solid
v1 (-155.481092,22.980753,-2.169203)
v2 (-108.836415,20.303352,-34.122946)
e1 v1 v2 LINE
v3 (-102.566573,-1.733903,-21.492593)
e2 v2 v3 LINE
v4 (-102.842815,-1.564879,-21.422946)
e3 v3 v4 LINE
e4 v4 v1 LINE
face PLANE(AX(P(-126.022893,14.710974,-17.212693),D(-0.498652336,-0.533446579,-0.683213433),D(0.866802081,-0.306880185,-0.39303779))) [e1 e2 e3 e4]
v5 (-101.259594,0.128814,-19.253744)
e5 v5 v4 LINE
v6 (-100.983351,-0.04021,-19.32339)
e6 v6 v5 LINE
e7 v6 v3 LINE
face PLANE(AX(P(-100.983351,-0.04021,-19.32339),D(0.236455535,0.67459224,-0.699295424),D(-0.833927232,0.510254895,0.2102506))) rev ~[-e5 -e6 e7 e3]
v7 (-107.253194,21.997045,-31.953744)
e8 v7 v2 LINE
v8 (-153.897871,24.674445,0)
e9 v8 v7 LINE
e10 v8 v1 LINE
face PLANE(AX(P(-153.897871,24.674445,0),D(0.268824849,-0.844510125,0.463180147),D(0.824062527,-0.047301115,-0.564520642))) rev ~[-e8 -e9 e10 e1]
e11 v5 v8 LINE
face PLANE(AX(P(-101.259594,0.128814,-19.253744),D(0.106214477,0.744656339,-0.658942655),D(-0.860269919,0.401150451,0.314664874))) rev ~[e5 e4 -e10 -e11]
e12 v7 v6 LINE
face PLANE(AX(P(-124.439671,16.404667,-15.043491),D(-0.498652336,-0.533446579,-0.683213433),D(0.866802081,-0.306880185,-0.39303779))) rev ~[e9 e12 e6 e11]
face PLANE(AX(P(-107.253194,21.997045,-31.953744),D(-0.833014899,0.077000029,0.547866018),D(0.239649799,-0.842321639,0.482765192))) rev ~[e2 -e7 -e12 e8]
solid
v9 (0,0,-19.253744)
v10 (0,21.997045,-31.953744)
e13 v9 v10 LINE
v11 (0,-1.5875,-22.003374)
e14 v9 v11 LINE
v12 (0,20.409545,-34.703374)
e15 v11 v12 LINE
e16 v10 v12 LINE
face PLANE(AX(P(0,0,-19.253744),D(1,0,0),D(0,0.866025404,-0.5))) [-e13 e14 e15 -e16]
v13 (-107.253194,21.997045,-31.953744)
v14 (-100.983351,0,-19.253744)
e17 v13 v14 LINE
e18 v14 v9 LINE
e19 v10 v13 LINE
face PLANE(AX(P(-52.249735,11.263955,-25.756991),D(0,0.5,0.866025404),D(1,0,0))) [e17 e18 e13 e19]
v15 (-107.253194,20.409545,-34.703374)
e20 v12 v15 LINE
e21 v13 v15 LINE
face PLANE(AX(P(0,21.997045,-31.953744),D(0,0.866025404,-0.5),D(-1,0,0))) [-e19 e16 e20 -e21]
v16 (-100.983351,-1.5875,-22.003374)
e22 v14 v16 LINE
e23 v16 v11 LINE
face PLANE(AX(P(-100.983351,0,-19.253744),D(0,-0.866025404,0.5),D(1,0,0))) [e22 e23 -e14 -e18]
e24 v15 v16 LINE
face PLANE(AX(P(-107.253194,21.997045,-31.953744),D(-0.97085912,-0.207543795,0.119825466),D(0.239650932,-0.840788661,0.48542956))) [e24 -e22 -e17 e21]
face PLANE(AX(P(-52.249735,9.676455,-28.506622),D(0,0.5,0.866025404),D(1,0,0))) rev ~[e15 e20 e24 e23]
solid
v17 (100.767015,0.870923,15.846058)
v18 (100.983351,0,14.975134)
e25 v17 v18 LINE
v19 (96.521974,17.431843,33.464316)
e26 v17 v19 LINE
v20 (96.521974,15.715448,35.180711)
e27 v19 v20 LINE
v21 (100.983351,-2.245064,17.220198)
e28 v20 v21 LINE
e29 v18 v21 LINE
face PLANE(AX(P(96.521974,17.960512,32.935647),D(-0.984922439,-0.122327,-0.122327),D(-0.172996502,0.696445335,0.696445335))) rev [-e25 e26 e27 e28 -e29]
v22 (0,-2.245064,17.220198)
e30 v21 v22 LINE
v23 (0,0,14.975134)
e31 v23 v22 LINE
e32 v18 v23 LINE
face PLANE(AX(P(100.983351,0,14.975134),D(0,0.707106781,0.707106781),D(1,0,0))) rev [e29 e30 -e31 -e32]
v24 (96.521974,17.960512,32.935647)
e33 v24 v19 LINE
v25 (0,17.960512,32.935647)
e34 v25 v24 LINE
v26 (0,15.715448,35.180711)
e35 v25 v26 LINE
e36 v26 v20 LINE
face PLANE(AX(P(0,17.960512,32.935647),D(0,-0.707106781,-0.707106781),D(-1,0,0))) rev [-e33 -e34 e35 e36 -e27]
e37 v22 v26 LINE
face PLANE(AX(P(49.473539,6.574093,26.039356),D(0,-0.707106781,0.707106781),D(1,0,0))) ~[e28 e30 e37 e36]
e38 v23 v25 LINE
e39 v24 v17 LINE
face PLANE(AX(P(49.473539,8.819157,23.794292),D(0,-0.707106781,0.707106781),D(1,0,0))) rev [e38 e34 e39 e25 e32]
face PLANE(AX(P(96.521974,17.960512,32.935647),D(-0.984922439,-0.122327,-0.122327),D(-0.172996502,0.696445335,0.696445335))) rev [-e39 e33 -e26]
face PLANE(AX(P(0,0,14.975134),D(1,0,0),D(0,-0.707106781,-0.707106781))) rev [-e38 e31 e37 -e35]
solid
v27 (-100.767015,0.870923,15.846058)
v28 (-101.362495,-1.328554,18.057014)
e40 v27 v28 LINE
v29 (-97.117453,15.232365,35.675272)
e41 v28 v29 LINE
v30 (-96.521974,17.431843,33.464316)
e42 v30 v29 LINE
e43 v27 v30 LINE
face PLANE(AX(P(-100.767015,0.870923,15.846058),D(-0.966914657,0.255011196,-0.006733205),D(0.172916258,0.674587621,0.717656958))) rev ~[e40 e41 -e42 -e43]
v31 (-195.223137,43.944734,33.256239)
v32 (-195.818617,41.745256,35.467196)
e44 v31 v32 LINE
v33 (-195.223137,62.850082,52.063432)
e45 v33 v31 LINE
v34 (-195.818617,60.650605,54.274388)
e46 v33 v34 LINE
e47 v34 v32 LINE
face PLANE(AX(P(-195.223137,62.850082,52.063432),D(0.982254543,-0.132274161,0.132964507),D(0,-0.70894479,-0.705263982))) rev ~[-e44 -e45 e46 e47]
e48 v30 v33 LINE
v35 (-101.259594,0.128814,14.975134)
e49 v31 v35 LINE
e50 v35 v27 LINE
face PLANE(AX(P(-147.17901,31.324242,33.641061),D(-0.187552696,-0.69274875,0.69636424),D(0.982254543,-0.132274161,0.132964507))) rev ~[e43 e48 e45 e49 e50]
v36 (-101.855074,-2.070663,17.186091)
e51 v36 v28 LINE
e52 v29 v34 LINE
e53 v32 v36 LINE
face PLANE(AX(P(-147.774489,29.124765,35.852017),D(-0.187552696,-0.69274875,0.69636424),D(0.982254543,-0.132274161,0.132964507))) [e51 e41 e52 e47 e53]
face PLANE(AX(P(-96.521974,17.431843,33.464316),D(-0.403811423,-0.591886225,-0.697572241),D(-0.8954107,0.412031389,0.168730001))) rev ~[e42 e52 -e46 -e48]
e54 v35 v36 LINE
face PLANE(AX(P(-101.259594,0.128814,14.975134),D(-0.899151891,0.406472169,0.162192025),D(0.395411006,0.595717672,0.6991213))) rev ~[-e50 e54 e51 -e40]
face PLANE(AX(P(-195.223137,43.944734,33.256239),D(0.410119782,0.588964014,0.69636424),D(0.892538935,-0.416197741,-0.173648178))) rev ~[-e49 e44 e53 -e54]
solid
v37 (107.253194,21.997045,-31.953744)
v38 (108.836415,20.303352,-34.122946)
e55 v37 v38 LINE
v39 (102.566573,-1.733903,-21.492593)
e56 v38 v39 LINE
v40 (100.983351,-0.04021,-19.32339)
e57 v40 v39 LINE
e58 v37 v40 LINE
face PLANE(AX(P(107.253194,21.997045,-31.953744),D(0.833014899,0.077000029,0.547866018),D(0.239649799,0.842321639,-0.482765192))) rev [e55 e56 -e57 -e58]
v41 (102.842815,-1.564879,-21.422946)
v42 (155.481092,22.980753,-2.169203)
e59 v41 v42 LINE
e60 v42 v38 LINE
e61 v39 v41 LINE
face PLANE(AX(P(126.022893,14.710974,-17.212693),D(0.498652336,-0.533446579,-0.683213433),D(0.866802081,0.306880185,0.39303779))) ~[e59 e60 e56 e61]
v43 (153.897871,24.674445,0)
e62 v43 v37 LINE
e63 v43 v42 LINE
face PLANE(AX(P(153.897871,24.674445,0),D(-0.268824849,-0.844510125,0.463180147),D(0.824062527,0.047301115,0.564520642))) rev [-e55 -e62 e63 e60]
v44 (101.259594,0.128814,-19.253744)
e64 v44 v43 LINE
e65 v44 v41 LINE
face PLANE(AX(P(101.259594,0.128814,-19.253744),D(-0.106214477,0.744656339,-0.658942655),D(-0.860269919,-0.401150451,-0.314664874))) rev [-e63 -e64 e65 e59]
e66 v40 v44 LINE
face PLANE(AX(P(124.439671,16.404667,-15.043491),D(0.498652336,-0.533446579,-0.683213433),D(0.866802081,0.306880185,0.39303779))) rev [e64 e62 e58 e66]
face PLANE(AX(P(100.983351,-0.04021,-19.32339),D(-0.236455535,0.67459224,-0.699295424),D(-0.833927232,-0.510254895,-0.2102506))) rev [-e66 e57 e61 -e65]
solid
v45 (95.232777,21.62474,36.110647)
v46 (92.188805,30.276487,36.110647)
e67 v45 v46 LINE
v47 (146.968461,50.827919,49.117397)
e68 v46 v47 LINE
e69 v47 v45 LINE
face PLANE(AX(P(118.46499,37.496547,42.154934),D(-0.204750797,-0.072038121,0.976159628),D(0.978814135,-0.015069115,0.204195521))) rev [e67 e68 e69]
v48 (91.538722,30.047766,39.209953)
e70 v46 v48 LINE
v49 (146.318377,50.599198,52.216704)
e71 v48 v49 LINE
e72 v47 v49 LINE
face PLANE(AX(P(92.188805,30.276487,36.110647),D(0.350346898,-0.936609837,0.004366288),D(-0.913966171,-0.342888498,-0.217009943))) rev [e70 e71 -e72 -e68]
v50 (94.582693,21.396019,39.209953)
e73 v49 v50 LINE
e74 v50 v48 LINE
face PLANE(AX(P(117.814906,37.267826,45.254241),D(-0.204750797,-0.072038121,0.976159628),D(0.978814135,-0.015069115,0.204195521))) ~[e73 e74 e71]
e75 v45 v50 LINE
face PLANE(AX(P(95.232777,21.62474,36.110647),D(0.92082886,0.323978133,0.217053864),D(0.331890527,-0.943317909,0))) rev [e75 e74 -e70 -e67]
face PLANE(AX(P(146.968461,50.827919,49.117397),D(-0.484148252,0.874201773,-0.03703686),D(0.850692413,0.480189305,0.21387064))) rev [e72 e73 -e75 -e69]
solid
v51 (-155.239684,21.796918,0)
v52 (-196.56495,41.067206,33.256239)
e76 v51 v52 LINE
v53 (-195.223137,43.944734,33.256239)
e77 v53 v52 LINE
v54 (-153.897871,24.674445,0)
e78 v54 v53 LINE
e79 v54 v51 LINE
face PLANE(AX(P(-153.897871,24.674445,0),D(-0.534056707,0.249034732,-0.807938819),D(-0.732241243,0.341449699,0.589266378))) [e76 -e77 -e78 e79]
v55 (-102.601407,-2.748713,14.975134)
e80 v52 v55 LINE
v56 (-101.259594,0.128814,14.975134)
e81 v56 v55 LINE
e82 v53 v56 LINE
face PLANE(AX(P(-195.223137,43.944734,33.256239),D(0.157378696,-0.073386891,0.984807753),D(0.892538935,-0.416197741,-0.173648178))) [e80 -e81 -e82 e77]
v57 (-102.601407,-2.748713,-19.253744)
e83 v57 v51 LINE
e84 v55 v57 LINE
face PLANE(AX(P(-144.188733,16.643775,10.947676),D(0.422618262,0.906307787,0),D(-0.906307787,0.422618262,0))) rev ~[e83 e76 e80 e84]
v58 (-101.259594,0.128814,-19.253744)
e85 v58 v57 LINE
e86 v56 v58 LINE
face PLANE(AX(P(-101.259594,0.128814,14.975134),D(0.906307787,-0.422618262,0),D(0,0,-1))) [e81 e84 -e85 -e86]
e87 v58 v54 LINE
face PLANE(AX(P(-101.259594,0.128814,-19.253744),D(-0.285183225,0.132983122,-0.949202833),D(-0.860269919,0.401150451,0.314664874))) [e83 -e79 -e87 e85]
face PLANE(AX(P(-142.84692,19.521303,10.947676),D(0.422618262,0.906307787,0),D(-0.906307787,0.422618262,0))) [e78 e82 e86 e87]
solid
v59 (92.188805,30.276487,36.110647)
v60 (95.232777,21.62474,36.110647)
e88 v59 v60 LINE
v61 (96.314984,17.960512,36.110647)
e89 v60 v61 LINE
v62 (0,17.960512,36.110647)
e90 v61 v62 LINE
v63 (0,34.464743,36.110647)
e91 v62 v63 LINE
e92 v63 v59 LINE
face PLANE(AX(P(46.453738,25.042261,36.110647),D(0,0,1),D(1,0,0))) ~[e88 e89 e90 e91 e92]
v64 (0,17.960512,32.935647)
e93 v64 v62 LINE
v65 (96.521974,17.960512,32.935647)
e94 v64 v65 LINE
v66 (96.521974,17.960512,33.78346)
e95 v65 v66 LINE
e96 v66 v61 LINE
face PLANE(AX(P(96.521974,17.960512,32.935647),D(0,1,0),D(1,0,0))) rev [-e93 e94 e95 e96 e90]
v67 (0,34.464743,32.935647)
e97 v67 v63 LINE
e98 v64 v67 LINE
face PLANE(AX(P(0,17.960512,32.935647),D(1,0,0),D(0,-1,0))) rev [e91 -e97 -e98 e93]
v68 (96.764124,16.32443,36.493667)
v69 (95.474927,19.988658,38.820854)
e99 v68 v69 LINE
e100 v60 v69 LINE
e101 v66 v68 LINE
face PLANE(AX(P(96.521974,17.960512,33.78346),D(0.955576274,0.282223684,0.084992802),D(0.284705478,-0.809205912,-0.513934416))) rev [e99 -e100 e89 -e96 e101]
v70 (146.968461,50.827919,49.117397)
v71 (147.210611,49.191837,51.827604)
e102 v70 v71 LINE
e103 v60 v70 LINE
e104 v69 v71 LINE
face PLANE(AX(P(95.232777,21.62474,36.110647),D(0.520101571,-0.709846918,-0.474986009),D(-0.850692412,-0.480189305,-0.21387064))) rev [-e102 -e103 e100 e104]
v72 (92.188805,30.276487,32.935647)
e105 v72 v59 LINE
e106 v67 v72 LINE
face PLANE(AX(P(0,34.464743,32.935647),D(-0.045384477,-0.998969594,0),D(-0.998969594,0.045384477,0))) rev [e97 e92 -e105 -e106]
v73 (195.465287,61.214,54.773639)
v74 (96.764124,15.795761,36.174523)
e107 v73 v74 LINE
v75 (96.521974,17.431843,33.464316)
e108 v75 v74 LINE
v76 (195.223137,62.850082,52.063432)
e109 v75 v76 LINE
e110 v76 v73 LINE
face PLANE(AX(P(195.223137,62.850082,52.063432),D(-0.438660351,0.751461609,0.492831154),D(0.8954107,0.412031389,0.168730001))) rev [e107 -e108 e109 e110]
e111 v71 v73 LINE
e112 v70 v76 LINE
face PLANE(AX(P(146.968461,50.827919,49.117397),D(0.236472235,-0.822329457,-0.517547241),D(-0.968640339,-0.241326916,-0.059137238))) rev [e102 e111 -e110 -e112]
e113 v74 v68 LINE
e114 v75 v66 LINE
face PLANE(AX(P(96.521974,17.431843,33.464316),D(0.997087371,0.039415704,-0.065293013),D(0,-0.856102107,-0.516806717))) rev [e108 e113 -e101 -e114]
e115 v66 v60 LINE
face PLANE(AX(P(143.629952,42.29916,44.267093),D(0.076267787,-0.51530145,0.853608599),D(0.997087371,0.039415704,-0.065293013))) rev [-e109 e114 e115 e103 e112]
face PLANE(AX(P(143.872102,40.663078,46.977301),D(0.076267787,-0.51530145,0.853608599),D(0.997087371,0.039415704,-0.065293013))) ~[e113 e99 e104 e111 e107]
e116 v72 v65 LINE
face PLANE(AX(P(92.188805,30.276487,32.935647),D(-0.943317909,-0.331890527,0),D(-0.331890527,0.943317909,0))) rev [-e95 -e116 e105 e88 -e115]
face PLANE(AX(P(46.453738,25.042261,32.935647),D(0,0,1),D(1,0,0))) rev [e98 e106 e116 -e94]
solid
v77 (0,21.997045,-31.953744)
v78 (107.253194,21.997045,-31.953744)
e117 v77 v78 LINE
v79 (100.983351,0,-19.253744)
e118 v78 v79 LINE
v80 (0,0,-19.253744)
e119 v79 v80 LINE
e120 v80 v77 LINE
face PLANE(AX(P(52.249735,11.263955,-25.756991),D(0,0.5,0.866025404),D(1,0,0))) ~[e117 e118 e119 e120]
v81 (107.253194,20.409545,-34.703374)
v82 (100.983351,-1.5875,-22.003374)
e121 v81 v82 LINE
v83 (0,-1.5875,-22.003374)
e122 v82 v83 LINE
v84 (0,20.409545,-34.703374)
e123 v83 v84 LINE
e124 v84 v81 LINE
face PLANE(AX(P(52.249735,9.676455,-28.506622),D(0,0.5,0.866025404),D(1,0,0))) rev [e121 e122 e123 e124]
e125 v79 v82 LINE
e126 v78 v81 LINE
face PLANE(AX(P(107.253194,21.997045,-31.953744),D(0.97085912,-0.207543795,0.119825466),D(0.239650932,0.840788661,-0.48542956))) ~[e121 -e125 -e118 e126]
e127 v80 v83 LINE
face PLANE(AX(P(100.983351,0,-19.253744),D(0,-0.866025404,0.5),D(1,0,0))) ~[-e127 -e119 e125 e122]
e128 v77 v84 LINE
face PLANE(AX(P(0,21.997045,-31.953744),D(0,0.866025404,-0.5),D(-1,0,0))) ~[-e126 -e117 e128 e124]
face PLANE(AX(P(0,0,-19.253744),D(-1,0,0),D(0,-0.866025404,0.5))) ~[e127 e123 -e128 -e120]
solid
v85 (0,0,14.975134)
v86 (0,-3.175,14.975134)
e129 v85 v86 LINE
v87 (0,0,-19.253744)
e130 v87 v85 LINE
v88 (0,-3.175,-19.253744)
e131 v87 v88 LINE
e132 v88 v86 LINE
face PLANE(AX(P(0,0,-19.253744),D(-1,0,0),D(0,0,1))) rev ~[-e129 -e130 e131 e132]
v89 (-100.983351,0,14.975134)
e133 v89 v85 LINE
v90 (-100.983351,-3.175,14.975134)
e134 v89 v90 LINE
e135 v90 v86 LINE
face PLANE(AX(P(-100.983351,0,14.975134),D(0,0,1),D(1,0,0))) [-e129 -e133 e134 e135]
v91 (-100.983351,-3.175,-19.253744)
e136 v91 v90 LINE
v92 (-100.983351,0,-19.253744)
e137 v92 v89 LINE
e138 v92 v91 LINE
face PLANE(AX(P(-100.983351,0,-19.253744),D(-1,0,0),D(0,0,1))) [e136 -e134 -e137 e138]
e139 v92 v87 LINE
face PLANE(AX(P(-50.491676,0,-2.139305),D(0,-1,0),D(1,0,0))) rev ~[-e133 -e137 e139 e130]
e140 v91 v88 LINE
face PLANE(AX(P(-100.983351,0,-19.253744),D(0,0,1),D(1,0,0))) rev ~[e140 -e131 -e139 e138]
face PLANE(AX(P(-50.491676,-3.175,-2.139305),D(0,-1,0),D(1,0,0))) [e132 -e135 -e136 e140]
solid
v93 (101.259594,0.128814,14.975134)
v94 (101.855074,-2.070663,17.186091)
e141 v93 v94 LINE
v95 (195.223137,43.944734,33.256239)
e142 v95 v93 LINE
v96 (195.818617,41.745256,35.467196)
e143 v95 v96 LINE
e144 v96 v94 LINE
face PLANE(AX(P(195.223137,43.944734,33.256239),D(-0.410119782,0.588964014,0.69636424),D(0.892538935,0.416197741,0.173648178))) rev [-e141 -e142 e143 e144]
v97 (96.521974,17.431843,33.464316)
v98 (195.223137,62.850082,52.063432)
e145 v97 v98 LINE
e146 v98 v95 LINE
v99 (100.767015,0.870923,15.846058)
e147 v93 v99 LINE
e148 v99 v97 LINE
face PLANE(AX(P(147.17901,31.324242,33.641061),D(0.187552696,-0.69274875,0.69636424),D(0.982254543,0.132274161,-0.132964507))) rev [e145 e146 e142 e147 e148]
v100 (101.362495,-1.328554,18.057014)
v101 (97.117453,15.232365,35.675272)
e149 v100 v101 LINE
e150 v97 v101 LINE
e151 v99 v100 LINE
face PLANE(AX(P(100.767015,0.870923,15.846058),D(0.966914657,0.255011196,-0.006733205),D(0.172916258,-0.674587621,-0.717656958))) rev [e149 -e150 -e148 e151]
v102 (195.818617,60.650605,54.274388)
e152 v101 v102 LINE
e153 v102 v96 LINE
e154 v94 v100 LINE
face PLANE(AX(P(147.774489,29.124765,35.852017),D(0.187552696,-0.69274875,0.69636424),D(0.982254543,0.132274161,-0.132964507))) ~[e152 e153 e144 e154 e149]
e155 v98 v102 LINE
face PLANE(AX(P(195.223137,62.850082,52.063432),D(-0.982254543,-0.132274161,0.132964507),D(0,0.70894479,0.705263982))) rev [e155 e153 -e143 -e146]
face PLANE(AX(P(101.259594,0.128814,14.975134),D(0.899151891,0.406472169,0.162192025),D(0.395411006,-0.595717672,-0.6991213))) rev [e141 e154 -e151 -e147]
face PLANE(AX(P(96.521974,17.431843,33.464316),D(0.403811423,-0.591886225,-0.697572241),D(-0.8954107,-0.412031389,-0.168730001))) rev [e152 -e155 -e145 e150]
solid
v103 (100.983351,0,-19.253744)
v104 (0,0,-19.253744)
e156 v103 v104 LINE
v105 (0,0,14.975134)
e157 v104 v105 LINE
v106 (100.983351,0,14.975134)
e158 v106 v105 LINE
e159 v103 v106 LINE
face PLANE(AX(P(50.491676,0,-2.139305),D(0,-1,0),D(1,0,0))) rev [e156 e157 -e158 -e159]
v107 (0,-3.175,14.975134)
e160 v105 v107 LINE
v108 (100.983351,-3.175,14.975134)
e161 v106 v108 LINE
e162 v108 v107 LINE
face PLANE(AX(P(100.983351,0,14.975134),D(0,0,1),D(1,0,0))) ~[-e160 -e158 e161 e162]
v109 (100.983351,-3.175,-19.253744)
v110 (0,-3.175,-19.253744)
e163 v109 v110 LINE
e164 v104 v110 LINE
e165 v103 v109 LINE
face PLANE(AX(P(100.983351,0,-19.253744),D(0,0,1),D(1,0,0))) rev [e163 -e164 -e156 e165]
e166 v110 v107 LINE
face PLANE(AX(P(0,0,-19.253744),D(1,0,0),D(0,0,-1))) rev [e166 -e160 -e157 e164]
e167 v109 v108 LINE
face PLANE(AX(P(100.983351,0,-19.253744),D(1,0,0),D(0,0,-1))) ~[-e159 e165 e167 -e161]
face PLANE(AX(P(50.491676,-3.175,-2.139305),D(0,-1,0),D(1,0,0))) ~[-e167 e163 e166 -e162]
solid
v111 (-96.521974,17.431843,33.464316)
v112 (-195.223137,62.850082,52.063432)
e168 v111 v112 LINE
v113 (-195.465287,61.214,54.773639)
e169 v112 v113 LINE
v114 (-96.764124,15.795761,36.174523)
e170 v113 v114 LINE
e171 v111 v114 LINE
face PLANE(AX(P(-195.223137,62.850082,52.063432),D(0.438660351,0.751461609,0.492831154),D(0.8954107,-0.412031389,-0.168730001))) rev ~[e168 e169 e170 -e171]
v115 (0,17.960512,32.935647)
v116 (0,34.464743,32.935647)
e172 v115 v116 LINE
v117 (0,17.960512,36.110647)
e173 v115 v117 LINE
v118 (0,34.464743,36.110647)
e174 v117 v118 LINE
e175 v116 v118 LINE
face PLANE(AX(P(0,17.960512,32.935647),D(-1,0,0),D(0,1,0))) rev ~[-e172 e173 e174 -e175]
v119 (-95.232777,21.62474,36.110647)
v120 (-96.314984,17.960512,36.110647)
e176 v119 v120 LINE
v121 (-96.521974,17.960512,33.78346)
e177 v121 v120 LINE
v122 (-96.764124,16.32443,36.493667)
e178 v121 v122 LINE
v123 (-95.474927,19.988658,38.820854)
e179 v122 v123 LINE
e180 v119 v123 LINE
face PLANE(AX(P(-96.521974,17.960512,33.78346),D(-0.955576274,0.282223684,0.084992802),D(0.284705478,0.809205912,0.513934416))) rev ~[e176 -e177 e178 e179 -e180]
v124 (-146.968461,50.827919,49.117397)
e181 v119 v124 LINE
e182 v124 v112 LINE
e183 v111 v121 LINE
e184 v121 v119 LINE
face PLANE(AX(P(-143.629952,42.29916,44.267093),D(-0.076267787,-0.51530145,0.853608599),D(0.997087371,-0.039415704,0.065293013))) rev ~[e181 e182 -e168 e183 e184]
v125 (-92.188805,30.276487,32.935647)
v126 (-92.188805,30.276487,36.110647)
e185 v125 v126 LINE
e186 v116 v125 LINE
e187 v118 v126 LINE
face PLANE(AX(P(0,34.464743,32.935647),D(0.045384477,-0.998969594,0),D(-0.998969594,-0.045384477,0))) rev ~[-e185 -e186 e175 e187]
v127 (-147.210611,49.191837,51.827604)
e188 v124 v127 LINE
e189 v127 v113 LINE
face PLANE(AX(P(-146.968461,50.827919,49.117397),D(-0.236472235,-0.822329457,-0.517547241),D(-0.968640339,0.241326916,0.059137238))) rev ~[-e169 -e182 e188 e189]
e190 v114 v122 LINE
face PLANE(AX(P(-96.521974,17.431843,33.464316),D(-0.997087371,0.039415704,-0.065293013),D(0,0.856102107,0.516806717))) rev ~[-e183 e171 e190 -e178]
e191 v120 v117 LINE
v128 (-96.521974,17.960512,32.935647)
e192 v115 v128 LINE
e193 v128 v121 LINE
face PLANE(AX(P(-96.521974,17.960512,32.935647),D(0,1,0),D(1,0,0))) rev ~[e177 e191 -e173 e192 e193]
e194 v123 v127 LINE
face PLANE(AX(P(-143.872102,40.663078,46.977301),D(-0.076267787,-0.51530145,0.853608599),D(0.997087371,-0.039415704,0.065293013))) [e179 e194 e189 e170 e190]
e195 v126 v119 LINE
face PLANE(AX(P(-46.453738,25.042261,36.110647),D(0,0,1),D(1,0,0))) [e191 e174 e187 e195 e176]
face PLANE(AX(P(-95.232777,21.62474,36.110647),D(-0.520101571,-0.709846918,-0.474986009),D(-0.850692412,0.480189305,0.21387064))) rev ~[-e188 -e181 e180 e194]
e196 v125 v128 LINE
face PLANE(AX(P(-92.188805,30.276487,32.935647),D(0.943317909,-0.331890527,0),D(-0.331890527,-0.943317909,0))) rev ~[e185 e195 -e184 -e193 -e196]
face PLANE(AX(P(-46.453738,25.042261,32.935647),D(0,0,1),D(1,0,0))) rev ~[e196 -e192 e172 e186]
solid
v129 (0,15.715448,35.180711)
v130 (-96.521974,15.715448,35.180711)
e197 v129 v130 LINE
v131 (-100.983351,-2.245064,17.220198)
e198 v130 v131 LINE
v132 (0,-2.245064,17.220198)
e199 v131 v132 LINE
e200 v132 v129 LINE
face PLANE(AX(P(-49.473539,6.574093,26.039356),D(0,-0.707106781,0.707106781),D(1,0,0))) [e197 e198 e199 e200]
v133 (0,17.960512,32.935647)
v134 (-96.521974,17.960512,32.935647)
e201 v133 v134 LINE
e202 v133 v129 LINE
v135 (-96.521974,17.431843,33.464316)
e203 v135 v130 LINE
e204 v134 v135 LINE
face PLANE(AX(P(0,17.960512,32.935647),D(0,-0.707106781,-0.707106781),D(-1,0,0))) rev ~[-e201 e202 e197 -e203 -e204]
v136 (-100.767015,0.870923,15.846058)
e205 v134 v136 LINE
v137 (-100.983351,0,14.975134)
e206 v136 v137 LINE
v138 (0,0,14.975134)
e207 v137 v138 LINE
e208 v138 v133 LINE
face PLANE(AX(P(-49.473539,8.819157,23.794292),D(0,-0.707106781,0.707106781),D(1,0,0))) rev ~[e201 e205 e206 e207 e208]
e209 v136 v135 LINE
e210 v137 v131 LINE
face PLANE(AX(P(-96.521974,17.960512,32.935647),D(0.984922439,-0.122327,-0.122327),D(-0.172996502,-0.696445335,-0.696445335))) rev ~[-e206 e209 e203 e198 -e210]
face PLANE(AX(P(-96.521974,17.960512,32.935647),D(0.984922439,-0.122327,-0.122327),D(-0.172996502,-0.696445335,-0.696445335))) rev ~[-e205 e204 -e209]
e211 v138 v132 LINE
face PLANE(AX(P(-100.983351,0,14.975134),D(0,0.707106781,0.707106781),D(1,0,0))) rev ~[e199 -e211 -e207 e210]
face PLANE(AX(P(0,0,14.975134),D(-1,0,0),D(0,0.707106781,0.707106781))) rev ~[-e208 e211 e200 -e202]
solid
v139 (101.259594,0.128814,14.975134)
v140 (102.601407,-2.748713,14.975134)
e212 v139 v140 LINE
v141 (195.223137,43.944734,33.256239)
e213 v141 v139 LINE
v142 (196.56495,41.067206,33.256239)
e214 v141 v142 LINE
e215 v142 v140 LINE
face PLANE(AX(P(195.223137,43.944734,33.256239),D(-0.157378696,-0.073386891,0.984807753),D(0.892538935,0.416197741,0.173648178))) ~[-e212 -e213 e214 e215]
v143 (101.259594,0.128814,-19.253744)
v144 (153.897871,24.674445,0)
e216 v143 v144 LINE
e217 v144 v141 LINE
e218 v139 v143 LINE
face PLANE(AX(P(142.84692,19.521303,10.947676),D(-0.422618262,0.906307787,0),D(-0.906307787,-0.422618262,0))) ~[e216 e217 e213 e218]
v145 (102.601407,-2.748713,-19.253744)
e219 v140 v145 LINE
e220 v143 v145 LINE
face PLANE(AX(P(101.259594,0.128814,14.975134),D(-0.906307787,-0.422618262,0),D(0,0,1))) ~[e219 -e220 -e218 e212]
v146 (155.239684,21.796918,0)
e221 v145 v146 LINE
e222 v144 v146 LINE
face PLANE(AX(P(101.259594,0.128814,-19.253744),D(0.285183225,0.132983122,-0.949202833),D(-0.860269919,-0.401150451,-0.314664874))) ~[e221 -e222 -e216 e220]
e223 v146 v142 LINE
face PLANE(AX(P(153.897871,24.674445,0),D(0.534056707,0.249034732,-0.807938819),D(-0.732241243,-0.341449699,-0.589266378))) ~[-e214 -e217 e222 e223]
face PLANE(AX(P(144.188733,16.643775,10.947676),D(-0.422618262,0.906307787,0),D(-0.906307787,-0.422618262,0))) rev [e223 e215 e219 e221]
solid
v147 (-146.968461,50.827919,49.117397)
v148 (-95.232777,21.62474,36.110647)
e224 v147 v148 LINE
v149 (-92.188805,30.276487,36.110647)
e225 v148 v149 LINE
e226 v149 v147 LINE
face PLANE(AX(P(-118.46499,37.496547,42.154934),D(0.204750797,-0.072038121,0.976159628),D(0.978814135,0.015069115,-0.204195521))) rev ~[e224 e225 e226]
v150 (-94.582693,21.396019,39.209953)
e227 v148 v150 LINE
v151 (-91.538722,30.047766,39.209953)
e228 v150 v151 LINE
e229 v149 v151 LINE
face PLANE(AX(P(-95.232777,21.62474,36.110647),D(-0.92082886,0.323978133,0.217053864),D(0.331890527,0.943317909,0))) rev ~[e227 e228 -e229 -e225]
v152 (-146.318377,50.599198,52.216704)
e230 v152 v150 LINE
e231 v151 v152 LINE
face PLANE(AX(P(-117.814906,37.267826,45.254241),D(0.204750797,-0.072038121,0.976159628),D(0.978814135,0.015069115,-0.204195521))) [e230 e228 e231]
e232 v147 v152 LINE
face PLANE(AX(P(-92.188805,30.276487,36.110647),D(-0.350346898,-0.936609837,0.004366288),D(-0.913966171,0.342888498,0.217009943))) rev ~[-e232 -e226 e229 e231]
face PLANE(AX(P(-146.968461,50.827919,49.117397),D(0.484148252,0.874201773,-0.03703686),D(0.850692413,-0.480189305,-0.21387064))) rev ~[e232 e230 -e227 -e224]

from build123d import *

# Parameters (mm, degrees)
F0_W      = 100.983351469
F0_H      = 34.2288780957
F1_DEPTH  = 3.175
F4_DEPTH  = 3.175
F8_DEPTH  = 3.175
F11_DEPTH = 3.175
F14_DEPTH = 3.175
F16_DEPTH = 3.175
F19_DEPTH = 3.175
F22_DEPTH = 3.175
F25_DEPTH = 3.175


with BuildPart() as f1:
    # F0 (on Front) → F1 (new body)
    with BuildSketch(Plane.XZ):
        with Locations((-50.4916757345, -2.1393047646)):
            Rectangle(F0_W, F0_H)
    extrude(amount=F1_DEPTH)


with BuildPart() as f4:
    # F3 (on face) → F4 (new body)
    with BuildSketch(Plane(origin=(-18.0362521801, -38.6788676202, 0), x_dir=(-0.906307787, 0.4226182617, 0), z_dir=(0.4226182617, 0.906307787, 0))):
        Polygon((195.5040961035, 33.2562392616), (91.8267977974, 14.9751342833), (91.8267977974, -19.2537438124), (149.9067097902, 0), align=None)
    extrude(amount=-F4_DEPTH)


with BuildPart() as f8:
    # F6 (on face) → F8 (new body)
    with BuildSketch(Plane(origin=(0, -7.4875671417, 7.4875671417), x_dir=(1, 0, 0), z_dir=(0, -0.7071067812, 0.7071067812))):
        Polygon((-96.5219736099, 35.9890190009), (-100.983351469, 10.5890190009), (0, 10.5890190009), (0, 35.9890190009), align=None)
    extrude(amount=F8_DEPTH)



with BuildPart() as f11:
    # F10 (on face) → F11 (new body)
    with BuildSketch(Plane(origin=(0, -8.3371156298, -14.4403078593), x_dir=(1, 0, 0), z_dir=(0, 0.5, 0.8660254038))):
        Polygon((-100.983351469, 9.6268719062), (0, 9.6268719062), (0, 35.0268719062), (-107.2531938553, 35.0268719062), align=None)
    extrude(amount=-F11_DEPTH)


with BuildPart() as f14:
    # F13 (on 3pt) → F14 (new body)
    with BuildSketch(Plane(origin=(-31.703833875, -33.9160182475, -43.4380501771), x_dir=(0.8668020812, -0.3068801846, -0.39303779), z_dir=(-0.4986523359, -0.533446579, -0.6832134332))):
        Polygon((-140.9710929063, -19.4483988721), (-87.1587201056, -37.0030169853), (-79.9254167687, -11.8602901262), (-80.244108451, -11.9506534211), align=None)
    extrude(amount=F14_DEPTH)


with BuildPart() as f16:
    # F15 (on face) → F16 (new body)
    with BuildSketch(Plane(origin=(-5.500999733, -20.318613249, 20.4246570964), x_dir=(0.9822545425, -0.1322741612, 0.1329645066), z_dir=(-0.1875526958, -0.6927487503, 0.6963642403))):
        Polygon((-96.9870953804, 11.7930904108), (-92.6653631393, 35.959390878), (-193.1496663362, 81.2757015228), (-193.1496663362, 54.6088176983), (-97.4885736897, 10.6527448878), align=None)
    extrude(amount=F16_DEPTH)


with BuildPart() as f19:
    # F18 (on face) → F19 (new body)
    with BuildSketch(Plane.XY.offset(32.9356465254)):
        Polygon((-96.5219736099, 17.9605122421), (0, 17.9605122421), (0, 34.4647429883), (-92.1888053417, 30.2764866501), align=None)
    extrude(amount=F19_DEPTH)


with BuildPart() as f8_1:
    add(f8.part)

    add(f16.part)  # F22 merges F16

    add(f19.part)  # F22 merges F19
    # F21 (on face) → F22 (join)
    with BuildSketch(Plane(origin=(-2.0549814691, -13.8844324202, 22.9998788027), x_dir=(0.9970873706, -0.0394157045, 0.065293013), z_dir=(-0.0762677868, -0.5153014503, 0.8536085988))):
        Polygon((-94.7429432184, 32.8355514866), (-93.4499802867, 37.1752105281), (-145.336791873, 68.8980892301), (-193.7324261585, 80.7128189391), (-94.7429432184, 32.2180205924), align=None)
    extrude(amount=F22_DEPTH)


with BuildPart() as f25:
    # F24 (on 3pt) → F25 (new body)
    with BuildSketch(Plane(origin=(2.9060204267, -1.0224343672, 13.8545971996), x_dir=(0.9788141351, 0.015069115, -0.2041955207), z_dir=(0.2047507971, -0.0720381212, 0.9761596284))):
        Polygon((-100.2629544328, 24.2237426686), (-97.1530981802, 32.8520256661), (-153.1184278879, 54.3049855879), align=None)
    extrude(amount=F25_DEPTH)


with BuildPart() as f26_1:
    # F26: instance of F25
    add(f25.part.mirror(Plane.YZ))


with BuildPart() as f26_2:
    # F26: instance of F4
    add(f4.part.mirror(Plane.YZ))


with BuildPart() as f26_3:
    # F26: instance of F14
    add(f14.part.mirror(Plane.YZ))


with BuildPart() as f26_4:
    # F26: instance of F11
    add(f11.part.mirror(Plane.YZ))


with BuildPart() as f26_5:
    # F26: instance of F1
    add(f1.part.mirror(Plane.YZ))


with BuildPart() as f26_6:
    # F26: instance of F8
    add(f8_1.part.mirror(Plane.YZ))


solid = Compound([f1.part, f4.part, f11.part, f14.part, f8_1.part, f25.part, f26_1.part, f26_2.part, f26_3.part, f26_4.part, f26_5.part, f26_6.part])
